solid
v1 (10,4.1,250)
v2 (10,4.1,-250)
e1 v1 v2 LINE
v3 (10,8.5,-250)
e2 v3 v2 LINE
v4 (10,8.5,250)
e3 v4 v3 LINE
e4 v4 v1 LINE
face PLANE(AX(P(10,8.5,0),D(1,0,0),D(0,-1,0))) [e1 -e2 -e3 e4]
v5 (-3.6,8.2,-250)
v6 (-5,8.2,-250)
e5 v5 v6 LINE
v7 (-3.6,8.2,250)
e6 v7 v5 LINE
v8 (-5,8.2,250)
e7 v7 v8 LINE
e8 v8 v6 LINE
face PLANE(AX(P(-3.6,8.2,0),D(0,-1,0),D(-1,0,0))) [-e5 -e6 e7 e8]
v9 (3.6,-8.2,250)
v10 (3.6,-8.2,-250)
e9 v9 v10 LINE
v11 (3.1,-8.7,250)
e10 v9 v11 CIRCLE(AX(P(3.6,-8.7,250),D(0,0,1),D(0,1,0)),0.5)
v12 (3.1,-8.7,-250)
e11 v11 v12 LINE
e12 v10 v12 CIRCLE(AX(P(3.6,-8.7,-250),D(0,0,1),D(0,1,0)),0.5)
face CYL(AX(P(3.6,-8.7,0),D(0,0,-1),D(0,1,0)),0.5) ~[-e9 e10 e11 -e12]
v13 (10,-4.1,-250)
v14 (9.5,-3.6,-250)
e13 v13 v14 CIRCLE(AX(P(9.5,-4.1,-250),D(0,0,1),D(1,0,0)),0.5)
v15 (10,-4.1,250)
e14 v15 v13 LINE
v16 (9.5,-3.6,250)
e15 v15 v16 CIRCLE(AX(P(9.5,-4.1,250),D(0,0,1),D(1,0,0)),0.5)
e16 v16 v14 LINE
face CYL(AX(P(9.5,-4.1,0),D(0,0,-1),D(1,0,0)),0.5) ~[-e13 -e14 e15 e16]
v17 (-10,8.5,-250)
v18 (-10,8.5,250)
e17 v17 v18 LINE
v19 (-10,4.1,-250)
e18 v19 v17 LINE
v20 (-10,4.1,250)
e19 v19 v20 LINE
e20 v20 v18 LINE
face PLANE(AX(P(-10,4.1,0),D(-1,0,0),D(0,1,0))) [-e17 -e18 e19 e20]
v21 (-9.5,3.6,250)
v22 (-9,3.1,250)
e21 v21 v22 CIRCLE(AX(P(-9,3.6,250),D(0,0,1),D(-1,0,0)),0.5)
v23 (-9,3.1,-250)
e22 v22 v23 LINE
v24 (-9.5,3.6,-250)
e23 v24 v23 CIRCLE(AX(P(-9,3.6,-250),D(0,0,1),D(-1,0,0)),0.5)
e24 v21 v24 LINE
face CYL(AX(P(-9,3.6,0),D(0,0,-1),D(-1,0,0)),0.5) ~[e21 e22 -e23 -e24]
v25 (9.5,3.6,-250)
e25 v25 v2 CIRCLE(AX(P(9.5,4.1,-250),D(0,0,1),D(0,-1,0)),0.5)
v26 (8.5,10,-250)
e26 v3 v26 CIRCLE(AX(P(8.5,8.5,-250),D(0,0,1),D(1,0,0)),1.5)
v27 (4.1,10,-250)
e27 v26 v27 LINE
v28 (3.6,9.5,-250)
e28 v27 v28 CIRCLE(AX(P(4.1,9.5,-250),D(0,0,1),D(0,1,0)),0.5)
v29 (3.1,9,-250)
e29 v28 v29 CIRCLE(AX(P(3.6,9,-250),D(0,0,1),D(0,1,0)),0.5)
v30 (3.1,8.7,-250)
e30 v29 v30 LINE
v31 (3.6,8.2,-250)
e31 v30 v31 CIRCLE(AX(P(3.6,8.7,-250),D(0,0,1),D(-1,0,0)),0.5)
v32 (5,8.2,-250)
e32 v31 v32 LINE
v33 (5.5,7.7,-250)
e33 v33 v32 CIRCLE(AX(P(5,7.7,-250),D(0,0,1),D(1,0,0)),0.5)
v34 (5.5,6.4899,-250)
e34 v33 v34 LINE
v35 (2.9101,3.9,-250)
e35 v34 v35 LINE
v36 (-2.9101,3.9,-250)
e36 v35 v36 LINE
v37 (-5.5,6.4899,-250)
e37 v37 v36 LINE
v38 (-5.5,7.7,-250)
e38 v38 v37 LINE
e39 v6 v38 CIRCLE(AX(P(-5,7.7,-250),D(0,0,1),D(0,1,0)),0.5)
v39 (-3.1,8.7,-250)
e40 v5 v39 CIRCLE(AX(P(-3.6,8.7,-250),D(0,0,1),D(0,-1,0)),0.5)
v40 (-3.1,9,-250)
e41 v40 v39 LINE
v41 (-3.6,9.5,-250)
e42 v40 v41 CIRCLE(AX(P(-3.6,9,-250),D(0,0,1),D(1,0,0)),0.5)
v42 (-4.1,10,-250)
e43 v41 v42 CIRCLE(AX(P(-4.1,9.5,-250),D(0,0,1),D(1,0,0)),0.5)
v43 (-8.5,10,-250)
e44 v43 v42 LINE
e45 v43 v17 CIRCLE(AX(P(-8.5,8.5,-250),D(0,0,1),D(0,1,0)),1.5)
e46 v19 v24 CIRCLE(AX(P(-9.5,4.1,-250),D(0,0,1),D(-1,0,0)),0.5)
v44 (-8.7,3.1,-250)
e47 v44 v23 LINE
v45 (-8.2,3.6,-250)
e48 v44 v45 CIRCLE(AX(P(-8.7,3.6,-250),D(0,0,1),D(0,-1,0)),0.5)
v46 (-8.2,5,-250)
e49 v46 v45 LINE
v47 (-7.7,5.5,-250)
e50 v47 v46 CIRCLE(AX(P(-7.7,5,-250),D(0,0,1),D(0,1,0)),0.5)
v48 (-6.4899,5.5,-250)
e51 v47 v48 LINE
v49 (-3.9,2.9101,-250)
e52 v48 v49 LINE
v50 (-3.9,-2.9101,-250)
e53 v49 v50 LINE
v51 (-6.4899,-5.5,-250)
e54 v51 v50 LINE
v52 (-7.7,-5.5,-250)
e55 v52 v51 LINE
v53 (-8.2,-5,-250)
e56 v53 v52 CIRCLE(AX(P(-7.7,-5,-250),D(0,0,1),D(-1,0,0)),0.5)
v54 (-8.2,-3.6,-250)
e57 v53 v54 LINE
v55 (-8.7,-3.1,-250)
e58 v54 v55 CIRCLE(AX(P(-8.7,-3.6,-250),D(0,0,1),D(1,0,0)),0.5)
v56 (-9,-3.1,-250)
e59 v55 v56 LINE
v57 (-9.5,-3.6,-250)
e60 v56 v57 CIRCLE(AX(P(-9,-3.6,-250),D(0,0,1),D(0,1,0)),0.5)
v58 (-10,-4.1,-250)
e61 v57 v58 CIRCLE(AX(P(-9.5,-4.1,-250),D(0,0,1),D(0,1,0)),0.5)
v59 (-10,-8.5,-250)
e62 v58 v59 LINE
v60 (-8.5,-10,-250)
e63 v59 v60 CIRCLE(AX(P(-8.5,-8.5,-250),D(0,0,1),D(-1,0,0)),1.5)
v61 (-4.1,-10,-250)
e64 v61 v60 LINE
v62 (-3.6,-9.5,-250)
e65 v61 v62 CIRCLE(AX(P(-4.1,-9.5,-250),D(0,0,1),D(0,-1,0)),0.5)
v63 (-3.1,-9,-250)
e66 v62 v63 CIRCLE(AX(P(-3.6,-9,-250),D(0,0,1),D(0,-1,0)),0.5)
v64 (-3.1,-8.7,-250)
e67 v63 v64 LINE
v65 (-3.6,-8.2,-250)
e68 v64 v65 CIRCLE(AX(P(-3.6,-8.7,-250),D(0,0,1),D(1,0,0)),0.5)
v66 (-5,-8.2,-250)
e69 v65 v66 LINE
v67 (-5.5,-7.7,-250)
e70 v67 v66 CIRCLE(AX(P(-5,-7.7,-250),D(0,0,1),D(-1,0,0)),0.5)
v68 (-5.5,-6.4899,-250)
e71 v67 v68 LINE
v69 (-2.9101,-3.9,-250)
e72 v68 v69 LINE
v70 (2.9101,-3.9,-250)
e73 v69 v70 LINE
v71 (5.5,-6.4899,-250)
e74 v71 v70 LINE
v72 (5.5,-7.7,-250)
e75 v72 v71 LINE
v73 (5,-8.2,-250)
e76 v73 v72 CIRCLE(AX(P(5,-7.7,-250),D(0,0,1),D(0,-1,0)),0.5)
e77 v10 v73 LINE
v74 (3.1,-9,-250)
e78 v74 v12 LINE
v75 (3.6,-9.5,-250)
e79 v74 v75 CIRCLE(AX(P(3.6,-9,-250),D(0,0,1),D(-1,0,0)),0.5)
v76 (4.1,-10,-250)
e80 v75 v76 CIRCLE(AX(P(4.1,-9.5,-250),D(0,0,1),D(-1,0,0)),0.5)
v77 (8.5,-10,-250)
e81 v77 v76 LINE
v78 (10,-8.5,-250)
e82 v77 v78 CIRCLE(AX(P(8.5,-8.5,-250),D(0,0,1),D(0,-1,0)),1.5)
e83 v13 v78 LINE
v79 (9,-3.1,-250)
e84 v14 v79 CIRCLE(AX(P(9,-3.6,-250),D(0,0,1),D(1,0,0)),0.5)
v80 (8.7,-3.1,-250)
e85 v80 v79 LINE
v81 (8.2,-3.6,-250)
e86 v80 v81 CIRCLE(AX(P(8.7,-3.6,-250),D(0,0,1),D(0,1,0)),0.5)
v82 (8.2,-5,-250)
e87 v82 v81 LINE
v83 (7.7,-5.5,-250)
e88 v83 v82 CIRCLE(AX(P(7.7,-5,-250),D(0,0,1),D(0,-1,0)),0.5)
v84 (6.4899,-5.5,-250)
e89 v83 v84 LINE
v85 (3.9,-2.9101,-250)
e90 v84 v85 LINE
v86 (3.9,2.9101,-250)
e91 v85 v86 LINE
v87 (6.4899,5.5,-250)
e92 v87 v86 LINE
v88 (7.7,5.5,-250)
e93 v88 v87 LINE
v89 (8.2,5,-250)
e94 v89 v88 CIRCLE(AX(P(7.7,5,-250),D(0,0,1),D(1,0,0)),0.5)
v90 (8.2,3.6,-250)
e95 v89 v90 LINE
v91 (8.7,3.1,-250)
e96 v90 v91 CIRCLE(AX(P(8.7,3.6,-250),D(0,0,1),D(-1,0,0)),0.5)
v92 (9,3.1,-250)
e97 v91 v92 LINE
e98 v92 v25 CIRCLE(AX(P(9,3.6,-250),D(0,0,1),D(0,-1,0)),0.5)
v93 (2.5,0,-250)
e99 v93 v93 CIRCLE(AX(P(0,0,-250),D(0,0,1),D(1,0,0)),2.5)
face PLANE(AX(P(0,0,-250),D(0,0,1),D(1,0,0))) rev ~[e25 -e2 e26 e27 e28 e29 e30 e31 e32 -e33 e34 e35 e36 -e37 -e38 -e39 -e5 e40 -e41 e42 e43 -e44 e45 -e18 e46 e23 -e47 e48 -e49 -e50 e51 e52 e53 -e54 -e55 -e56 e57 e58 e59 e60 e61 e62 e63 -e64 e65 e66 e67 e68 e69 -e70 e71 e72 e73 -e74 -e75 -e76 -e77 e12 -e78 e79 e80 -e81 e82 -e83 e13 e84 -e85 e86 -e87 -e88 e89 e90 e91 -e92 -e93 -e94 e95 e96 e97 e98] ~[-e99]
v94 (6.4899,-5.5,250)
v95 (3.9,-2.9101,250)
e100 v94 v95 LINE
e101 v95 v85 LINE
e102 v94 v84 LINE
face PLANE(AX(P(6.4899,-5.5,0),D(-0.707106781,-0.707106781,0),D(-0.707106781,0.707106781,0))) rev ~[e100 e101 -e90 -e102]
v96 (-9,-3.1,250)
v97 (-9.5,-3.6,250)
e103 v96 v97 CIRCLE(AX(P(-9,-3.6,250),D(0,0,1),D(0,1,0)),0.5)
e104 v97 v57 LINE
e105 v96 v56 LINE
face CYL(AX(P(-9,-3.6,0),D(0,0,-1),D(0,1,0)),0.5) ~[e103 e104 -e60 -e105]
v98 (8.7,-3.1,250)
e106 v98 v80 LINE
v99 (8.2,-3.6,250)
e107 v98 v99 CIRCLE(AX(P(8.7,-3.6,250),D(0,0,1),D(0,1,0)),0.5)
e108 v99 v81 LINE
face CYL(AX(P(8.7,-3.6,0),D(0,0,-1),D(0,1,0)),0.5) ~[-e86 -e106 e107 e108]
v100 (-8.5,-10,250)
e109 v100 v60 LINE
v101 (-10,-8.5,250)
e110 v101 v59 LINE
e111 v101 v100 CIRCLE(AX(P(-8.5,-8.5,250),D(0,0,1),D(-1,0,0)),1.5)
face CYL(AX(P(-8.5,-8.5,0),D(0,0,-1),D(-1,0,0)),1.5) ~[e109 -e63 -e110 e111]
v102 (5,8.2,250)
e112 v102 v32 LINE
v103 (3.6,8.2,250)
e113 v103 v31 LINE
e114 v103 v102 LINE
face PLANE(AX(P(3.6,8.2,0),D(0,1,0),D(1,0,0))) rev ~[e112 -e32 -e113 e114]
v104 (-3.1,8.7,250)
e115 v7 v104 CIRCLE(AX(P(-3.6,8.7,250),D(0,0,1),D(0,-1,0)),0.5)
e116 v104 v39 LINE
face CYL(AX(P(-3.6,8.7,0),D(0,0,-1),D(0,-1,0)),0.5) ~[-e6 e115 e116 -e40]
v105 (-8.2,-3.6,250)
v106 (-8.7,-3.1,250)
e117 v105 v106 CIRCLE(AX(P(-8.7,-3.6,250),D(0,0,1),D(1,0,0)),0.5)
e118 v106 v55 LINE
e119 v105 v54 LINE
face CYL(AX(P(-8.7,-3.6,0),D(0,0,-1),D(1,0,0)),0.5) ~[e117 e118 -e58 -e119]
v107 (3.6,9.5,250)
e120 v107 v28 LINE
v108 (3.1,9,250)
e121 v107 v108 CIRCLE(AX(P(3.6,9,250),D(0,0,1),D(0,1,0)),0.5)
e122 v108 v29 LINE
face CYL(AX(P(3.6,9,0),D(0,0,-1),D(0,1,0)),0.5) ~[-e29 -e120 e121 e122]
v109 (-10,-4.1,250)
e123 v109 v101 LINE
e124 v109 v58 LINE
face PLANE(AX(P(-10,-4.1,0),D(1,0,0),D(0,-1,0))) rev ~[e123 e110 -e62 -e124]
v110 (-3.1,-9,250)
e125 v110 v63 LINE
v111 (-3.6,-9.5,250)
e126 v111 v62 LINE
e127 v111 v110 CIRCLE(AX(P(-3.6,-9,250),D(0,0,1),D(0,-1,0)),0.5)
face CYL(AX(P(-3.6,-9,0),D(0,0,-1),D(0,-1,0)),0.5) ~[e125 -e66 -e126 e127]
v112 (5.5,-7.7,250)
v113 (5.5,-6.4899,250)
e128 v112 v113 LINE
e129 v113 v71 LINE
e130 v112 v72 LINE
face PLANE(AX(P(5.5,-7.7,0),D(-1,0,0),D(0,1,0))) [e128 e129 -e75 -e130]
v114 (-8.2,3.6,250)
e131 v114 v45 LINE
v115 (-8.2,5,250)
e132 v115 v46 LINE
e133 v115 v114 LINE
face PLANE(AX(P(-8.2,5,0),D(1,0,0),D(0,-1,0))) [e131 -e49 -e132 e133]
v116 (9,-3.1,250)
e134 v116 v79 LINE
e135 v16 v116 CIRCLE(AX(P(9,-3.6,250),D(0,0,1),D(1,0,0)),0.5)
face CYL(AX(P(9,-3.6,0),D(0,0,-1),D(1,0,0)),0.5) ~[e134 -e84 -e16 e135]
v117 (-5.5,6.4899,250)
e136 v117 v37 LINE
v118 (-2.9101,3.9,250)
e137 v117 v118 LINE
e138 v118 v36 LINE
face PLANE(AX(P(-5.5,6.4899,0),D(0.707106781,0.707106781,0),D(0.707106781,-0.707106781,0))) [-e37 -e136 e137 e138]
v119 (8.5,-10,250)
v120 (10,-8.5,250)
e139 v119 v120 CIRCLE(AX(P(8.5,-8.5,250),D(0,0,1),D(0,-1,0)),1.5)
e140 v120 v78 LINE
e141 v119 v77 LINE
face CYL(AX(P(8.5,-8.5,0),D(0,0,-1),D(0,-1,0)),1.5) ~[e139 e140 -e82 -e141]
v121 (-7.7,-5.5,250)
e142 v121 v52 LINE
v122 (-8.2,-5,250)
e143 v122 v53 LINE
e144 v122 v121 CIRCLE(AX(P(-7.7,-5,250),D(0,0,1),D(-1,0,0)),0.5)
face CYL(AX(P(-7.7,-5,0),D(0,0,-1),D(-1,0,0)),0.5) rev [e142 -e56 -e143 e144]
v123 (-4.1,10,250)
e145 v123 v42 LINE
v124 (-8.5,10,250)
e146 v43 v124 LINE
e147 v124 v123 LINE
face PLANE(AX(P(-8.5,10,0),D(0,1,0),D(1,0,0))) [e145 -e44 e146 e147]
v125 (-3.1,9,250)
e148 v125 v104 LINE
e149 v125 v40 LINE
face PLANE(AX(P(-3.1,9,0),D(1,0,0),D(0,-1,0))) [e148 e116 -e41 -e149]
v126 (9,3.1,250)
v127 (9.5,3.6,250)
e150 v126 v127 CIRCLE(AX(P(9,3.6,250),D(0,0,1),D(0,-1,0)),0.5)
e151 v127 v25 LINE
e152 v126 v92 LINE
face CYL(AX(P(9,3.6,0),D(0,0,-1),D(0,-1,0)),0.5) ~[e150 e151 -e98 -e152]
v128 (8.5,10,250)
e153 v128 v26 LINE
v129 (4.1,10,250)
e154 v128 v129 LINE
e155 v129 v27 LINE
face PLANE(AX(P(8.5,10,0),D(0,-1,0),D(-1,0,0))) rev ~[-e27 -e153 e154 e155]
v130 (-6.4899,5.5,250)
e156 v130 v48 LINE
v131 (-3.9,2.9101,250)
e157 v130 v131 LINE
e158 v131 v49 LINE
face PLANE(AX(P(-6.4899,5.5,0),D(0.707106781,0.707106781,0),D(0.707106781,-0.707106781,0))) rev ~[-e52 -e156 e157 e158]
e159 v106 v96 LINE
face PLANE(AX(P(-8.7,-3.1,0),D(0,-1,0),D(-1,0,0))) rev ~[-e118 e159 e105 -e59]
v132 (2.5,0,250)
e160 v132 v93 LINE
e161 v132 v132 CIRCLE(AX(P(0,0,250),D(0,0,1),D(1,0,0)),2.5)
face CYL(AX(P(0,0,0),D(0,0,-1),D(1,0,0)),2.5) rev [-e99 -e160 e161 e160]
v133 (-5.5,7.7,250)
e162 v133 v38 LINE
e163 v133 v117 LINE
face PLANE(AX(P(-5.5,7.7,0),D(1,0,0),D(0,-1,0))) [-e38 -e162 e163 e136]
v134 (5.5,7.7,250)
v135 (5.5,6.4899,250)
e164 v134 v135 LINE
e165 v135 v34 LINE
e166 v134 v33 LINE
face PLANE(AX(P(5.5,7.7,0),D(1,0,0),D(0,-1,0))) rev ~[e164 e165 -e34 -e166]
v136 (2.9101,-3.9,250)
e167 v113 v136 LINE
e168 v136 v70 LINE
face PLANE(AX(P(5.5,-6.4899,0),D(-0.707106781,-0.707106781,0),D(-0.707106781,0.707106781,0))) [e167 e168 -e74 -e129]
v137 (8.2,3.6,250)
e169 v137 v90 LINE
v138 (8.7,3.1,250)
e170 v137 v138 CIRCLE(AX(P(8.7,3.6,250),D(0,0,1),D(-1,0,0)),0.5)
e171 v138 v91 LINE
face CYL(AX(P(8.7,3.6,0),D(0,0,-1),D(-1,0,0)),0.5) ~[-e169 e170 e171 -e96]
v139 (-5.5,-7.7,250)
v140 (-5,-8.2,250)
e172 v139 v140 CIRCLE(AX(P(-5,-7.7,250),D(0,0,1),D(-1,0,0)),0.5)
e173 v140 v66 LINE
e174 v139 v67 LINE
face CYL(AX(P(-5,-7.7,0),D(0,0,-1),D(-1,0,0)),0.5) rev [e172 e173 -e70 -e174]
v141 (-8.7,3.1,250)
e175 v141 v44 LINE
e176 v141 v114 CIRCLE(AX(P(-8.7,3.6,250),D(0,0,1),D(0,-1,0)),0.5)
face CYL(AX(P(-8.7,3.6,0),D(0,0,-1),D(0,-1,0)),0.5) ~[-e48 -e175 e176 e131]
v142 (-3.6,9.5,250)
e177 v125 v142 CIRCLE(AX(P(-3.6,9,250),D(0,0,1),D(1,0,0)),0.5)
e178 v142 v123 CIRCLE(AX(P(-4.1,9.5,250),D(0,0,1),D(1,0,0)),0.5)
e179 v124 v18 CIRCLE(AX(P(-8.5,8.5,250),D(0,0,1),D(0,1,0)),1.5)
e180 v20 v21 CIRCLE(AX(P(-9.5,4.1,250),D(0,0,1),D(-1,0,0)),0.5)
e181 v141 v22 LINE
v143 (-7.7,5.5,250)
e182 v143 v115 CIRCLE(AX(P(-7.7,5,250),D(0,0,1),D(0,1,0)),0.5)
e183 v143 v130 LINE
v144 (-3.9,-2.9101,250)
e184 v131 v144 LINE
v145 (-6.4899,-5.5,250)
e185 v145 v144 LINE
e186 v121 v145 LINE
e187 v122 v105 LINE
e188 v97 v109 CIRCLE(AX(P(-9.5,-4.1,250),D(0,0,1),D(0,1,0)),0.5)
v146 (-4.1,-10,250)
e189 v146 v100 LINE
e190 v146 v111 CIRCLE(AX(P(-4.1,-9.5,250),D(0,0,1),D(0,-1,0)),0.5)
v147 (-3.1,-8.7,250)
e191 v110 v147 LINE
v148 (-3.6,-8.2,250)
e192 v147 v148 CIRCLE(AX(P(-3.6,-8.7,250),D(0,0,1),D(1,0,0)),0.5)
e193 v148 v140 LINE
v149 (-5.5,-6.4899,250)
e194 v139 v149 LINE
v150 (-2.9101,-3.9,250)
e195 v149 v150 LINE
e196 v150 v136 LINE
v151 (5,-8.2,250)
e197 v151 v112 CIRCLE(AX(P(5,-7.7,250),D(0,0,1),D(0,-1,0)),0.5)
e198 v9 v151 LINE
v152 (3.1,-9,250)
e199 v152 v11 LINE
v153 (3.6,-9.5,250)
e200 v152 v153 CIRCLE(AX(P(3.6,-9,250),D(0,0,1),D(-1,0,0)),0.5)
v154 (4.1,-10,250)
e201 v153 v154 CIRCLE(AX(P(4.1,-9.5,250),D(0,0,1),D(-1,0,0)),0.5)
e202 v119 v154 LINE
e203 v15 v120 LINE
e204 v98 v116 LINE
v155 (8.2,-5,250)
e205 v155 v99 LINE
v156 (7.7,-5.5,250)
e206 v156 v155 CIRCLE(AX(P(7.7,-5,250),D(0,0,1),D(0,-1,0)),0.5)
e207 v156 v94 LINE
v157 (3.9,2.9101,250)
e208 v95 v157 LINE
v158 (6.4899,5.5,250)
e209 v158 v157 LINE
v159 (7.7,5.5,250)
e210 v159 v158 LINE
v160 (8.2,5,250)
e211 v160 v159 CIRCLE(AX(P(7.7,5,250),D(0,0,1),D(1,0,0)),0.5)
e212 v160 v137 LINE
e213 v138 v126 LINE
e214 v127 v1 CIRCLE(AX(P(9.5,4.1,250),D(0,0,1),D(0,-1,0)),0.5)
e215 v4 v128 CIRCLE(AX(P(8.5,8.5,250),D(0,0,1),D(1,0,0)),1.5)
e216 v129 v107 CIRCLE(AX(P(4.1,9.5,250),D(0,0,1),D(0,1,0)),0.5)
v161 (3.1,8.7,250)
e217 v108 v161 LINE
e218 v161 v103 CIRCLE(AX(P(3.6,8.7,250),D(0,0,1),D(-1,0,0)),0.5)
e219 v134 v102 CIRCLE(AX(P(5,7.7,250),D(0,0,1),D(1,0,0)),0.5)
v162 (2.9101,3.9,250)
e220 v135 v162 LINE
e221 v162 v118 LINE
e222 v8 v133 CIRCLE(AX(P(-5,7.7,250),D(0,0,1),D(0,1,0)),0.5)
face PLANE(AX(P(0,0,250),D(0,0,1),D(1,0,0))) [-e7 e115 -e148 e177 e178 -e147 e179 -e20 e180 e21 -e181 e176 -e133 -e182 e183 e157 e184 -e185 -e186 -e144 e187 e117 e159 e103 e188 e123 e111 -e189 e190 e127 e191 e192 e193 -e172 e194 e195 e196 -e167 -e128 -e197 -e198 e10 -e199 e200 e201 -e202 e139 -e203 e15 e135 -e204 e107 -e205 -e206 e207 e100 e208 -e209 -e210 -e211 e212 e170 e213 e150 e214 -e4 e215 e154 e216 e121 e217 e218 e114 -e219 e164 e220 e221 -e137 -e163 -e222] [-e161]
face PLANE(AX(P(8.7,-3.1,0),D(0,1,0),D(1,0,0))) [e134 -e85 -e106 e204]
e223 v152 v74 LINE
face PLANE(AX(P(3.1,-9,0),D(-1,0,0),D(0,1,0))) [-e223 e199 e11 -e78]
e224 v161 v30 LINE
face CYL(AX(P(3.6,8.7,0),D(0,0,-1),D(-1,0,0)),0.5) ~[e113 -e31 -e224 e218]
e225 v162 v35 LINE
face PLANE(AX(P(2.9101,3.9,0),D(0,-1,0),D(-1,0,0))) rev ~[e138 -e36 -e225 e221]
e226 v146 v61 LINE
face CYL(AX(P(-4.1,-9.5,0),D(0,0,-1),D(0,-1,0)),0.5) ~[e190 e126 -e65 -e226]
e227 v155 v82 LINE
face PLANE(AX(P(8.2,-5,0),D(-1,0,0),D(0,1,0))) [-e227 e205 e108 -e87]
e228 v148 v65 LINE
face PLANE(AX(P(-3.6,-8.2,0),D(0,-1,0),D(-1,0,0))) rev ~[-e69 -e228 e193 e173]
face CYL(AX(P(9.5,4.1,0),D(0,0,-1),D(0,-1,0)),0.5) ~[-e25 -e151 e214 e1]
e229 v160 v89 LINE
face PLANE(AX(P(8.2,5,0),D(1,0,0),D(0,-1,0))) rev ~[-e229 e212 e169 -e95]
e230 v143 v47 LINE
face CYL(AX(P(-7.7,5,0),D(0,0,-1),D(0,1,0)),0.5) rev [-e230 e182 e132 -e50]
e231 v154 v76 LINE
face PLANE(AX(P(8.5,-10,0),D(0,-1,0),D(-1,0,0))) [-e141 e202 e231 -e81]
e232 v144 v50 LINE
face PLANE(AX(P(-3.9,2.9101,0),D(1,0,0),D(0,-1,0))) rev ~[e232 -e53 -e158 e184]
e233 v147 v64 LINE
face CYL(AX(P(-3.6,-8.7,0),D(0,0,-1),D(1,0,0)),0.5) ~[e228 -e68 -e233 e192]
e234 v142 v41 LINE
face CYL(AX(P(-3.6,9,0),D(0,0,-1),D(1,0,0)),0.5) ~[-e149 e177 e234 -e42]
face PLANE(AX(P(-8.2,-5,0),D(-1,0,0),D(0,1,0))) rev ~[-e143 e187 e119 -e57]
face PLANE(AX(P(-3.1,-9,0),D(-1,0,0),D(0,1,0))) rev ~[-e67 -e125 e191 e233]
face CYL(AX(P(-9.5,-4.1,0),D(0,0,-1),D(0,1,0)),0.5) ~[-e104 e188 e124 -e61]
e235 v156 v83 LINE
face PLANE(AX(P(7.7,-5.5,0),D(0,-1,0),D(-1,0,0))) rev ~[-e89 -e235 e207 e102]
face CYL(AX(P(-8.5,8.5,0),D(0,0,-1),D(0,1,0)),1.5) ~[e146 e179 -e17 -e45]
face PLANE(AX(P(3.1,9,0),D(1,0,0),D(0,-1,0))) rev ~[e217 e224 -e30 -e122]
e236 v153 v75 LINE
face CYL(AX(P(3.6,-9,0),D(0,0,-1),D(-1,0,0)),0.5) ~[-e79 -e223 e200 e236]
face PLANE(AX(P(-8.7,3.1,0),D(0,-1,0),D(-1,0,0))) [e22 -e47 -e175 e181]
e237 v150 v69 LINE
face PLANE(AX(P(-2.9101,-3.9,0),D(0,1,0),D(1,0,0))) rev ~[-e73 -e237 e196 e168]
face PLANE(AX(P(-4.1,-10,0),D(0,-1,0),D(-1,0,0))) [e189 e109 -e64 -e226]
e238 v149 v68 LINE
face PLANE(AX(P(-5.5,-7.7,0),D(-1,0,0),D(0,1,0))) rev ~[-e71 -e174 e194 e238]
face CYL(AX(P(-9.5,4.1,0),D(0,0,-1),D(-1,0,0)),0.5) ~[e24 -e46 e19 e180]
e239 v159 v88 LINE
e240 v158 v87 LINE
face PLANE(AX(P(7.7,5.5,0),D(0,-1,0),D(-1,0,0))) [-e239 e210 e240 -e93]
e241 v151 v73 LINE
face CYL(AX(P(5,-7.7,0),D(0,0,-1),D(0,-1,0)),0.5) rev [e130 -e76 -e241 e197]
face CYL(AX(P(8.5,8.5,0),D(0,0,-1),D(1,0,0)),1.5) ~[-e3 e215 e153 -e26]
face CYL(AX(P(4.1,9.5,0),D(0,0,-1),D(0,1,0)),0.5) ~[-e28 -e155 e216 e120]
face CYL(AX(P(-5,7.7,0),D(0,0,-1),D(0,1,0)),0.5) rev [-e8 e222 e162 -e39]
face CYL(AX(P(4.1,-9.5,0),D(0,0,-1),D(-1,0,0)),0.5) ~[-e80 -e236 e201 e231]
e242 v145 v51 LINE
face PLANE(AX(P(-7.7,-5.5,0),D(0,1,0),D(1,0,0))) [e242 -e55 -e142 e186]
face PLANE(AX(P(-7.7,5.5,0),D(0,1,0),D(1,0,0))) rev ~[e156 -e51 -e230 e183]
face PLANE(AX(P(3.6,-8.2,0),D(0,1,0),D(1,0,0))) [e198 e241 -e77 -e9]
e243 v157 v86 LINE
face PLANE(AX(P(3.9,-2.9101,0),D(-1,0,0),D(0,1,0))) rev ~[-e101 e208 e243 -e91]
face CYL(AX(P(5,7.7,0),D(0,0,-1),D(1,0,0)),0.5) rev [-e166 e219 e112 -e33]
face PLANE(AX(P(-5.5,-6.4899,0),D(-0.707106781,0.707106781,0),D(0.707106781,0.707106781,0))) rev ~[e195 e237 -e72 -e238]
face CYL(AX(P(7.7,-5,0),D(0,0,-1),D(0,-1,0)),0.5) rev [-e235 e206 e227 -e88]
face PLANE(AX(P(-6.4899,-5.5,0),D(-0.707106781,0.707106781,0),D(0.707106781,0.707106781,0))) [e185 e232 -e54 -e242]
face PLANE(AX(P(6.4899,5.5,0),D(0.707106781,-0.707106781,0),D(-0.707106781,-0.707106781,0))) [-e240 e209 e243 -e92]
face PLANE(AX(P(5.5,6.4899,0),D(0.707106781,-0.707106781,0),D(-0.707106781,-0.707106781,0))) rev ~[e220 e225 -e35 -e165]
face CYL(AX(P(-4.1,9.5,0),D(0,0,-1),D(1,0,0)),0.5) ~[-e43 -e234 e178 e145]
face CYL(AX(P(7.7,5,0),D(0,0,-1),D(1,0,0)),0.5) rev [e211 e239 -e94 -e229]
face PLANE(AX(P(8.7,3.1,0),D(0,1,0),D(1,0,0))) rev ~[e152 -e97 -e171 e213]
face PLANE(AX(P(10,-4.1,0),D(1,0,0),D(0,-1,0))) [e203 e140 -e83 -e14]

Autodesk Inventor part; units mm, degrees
ref_plane "YZ Plane" through (0, 0, 0) normal (1, 0, 0) x (0, 1, 0)
ref_plane "XZ Plane" through (0, 0, 0) normal (0, 1, 0) x (-1, 0, 0)
ref_plane "XY Plane" through (0, 0, 0) normal (0, 0, 1) x (1, 0, 0)
sketch "Sketch1" plane through (0, 0, 0) normal (0, 0, 1) x (1, 0, 0)
  line L0 (-8.5, 10) -> (-4.1, 10)
  line L1 (10, 10) -> (10, -10)
  line L2 (10, -10) -> (-10, -10)
  line L3 (-10, 4.1) -> (-10, 8.5)
  line L4 (-10, 10) -> (10, -10) construction
  line L5 (10, 10) -> (-10, -10) construction
  line L6 (2.9101, 3.9) -> (-2.9101, 3.9)
  line L7 (-3.9, 2.9101) -> (-3.9, -2.9101)
  line L8 (3.9, -2.9101) -> (3.9, 2.9101)
  line L9 (-3.1, 9) -> (-3.1, 8.7)
  line L10 (-3.6, 8.2) -> (-5, 8.2)
  line L11 (-5.5, 7.7) -> (-5.5, 6.4899)
  line L12 (-8.2, 5) -> (-8.2, 3.6)
  line L13 (-8.7, 3.1) -> (-9, 3.1)
  line L14 (-7.7, 5.5) -> (-6.4899, 5.5)
  arc A0 (-8.5, 10) -> (-10, 8.5) centre (-8.5, 8.5) ccw
  line L15 (-3.6, 9.5) -> (-3.6, 9.5)
  line L16 (-3.6, 9.5) -> (-3.6, 9.5)
  line L17 (-9.5, 3.6) -> (-9.5, 3.6)
  line L18 (-9.5, 3.6) -> (-9.5, 3.6)
  arc A1 (-5, 8.2) -> (-5.5, 7.7) centre (-5, 7.7) ccw
  arc A2 (-7.7, 5.5) -> (-8.2, 5) centre (-7.7, 5) ccw
  arc A3 (-8.7, 3.1) -> (-8.2, 3.6) centre (-8.7, 3.6) ccw
  arc A4 (-3.6, 8.2) -> (-3.1, 8.7) centre (-3.6, 8.7) ccw
  arc A5 (-3.1, 9) -> (-3.6, 9.5) centre (-3.6, 9) ccw
  arc A6 (-3.6, 9.5) -> (-4.1, 10) centre (-4.1, 9.5) ccw
  arc A7 (-9.5, 3.6) -> (-9, 3.1) centre (-9, 3.6) ccw
  arc A8 (-10, 4.1) -> (-9.5, 3.6) centre (-9.5, 4.1) ccw
  line L19 (-6.4899, 5.5) -> (-3.9, 2.9101)
  line L20 (-5.5, 6.4899) -> (-2.9101, 3.9)
  line L21 (-14.4349, 0) -> (14.4349, 0) construction
  line L22 (0, -14.4349) -> (0, 14.4349) construction
  line L23 (8.5, 10) -> (4.1, 10)
  line L24 (10, 4.1) -> (10, 8.5)
  line L25 (3.1, 9) -> (3.1, 8.7)
  line L26 (3.6, 8.2) -> (5, 8.2)
  line L27 (5.5, 7.7) -> (5.5, 6.4899)
  line L28 (8.2, 5) -> (8.2, 3.6)
  line L29 (8.7, 3.1) -> (9, 3.1)
  line L30 (7.7, 5.5) -> (6.4899, 5.5)
  arc A9 (10, 8.5) -> (8.5, 10) centre (8.5, 8.5) ccw
  line L31 (3.6, 9.5) -> (3.6, 9.5)
  line L32 (3.6, 9.5) -> (3.6, 9.5)
  line L33 (9.5, 3.6) -> (9.5, 3.6)
  line L34 (9.5, 3.6) -> (9.5, 3.6)
  arc A10 (5.5, 7.7) -> (5, 8.2) centre (5, 7.7) ccw
  arc A11 (8.2, 5) -> (7.7, 5.5) centre (7.7, 5) ccw
  arc A12 (8.2, 3.6) -> (8.7, 3.1) centre (8.7, 3.6) ccw
  arc A13 (3.1, 8.7) -> (3.6, 8.2) centre (3.6, 8.7) ccw
  arc A14 (3.6, 9.5) -> (3.1, 9) centre (3.6, 9) ccw
  arc A15 (4.1, 10) -> (3.6, 9.5) centre (4.1, 9.5) ccw
  arc A16 (9, 3.1) -> (9.5, 3.6) centre (9, 3.6) ccw
  arc A17 (9.5, 3.6) -> (10, 4.1) centre (9.5, 4.1) ccw
  line L35 (6.4899, 5.5) -> (3.9, 2.9101)
  line L36 (5.5, 6.4899) -> (2.9101, 3.9)
  line L37 (-8.5, -10) -> (-4.1, -10)
  line L38 (-10, -4.1) -> (-10, -8.5)
  line L39 (-3.1, -9) -> (-3.1, -8.7)
  line L40 (-3.6, -8.2) -> (-5, -8.2)
  line L41 (-5.5, -7.7) -> (-5.5, -6.4899)
  line L42 (-8.2, -5) -> (-8.2, -3.6)
  line L43 (-8.7, -3.1) -> (-9, -3.1)
  line L44 (-7.7, -5.5) -> (-6.4899, -5.5)
  arc A18 (-10, -8.5) -> (-8.5, -10) centre (-8.5, -8.5) ccw
  arc A19 (-5.5, -7.7) -> (-5, -8.2) centre (-5, -7.7) ccw
  arc A20 (-8.2, -5) -> (-7.7, -5.5) centre (-7.7, -5) ccw
  arc A21 (-8.2, -3.6) -> (-8.7, -3.1) centre (-8.7, -3.6) ccw
  arc A22 (-3.1, -8.7) -> (-3.6, -8.2) centre (-3.6, -8.7) ccw
  arc A23 (-3.6, -9.5) -> (-3.1, -9) centre (-3.6, -9) ccw
  arc A24 (-4.1, -10) -> (-3.6, -9.5) centre (-4.1, -9.5) ccw
  arc A25 (-9, -3.1) -> (-9.5, -3.6) centre (-9, -3.6) ccw
  arc A26 (-9.5, -3.6) -> (-10, -4.1) centre (-9.5, -4.1) ccw
  line L45 (-6.4899, -5.5) -> (-3.9, -2.9101)
  line L46 (-5.5, -6.4899) -> (-2.9101, -3.9)
  arc A27 (10, -4.1) -> (9.5, -3.6) centre (9.5, -4.1) ccw
  line L47 (6.4899, -5.5) -> (3.9, -2.9101)
  arc A28 (7.7, -5.5) -> (8.2, -5) centre (7.7, -5) ccw
  line L48 (5.5, -7.7) -> (5.5, -6.4899)
  line L49 (10, -4.1) -> (10, -8.5)
  line L50 (3.1, -9) -> (3.1, -8.7)
  line L51 (8.5, -10) -> (4.1, -10)
  line L52 (3.6, -8.2) -> (5, -8.2)
  arc A29 (5, -8.2) -> (5.5, -7.7) centre (5, -7.7) ccw
  line L53 (7.7, -5.5) -> (6.4899, -5.5)
  arc A30 (8.7, -3.1) -> (8.2, -3.6) centre (8.7, -3.6) ccw
  arc A31 (8.5, -10) -> (10, -8.5) centre (8.5, -8.5) ccw
  line L54 (8.2, -5) -> (8.2, -3.6)
  line L55 (8.7, -3.1) -> (9, -3.1)
  arc A32 (9.5, -3.6) -> (9, -3.1) centre (9, -3.6) ccw
  arc A33 (3.6, -8.2) -> (3.1, -8.7) centre (3.6, -8.7) ccw
  arc A34 (3.1, -9) -> (3.6, -9.5) centre (3.6, -9) ccw
  arc A35 (3.6, -9.5) -> (4.1, -10) centre (4.1, -9.5) ccw
  line L56 (5.5, -6.4899) -> (2.9101, -3.9)
  line L57 (-2.9101, -3.9) -> (2.9101, -3.9)
  circle A36 centre (0, 0) radius 2.5
  point P0 (-9.5, 3.1)
  point P1 (-3.6, 9.5)
  point P2 (-3.6, 9.5)
  point P3 (-10, 3.6)
  point P4 (9.5, 3.1)
  point P5 (3.6, 9.5)
  point P6 (3.6, 9.5)
  point P7 (10, 3.6)
  point P8 (-9.5, -3.1)
  point P9 (-3.6, -9.5)
  point P10 (-3.6, -9.5)
  point P11 (-3.6, -9.5)
  point P12 (-9.5, -3.6)
  point P13 (-10, -3.6)
  point P14 (10, -3.6)
  point P15 (3.6, -9.5)
  point P16 (3.6, -9.5)
  point P17 (9.5, -3.1)
  point P18 (3.6, -9.5)
  point P19 (9.5, -3.6)
  dimension "d0" = 20
  dimension "d1" = 20
  dimension "d2" = 6.1
  dimension "d3" = 1.8
  dimension "d4" = 1.8
  dimension "d5" = 6.9
  dimension "d6" = 6.9
  dimension "d7" = 4.5
  dimension "d8" = 1.5
  dimension "d9" = 0.5
  dimension "d10" = 0.5
  dimension "d11" = 0.5
  dimension "d12" = 0.5
  dimension "d13" = 0.5
  dimension "d14" = 0.5
  dimension "d15" = 0.5
  dimension "d16" = 1.4
  dimension "d17" = 0.7
  dimension "d20" = 4.5
  dimension "d22" = 6.1
  dimension "d23" = 5
extrude "Extrusion1" add sketch "Sketch1" along normal mid plane 500 contours L0 A6 A5 L9 A4 L10 A1 L11 L20 L6 L36 L27 A10 L26 A13 L25 A14 A15 L23 A9 L1 A17 A16 L29 A12 L28 A11 L30 L35 L8 L47 L53 A28 L54 A30 L55 A32 A27 A31 L2 A35 A34 L50 A33 L52 A29 L48 L56 L57 L46 L41 A19 L40 A22 L39 A23 A24 A18 L38 A26 A25 L43 A21 L42 A20 L44 L45 L7 L19 L14 A2 L12 A3 L13 A7 A8 L3 A0
equation "\"d4\" = d3"
equation "\"d6\" = d5"
equation "\"d10\" = d9"
equation "\"d12\" = d11"
properties part number "HCMUTE-CDT23-OP_NDH-2020X500"
